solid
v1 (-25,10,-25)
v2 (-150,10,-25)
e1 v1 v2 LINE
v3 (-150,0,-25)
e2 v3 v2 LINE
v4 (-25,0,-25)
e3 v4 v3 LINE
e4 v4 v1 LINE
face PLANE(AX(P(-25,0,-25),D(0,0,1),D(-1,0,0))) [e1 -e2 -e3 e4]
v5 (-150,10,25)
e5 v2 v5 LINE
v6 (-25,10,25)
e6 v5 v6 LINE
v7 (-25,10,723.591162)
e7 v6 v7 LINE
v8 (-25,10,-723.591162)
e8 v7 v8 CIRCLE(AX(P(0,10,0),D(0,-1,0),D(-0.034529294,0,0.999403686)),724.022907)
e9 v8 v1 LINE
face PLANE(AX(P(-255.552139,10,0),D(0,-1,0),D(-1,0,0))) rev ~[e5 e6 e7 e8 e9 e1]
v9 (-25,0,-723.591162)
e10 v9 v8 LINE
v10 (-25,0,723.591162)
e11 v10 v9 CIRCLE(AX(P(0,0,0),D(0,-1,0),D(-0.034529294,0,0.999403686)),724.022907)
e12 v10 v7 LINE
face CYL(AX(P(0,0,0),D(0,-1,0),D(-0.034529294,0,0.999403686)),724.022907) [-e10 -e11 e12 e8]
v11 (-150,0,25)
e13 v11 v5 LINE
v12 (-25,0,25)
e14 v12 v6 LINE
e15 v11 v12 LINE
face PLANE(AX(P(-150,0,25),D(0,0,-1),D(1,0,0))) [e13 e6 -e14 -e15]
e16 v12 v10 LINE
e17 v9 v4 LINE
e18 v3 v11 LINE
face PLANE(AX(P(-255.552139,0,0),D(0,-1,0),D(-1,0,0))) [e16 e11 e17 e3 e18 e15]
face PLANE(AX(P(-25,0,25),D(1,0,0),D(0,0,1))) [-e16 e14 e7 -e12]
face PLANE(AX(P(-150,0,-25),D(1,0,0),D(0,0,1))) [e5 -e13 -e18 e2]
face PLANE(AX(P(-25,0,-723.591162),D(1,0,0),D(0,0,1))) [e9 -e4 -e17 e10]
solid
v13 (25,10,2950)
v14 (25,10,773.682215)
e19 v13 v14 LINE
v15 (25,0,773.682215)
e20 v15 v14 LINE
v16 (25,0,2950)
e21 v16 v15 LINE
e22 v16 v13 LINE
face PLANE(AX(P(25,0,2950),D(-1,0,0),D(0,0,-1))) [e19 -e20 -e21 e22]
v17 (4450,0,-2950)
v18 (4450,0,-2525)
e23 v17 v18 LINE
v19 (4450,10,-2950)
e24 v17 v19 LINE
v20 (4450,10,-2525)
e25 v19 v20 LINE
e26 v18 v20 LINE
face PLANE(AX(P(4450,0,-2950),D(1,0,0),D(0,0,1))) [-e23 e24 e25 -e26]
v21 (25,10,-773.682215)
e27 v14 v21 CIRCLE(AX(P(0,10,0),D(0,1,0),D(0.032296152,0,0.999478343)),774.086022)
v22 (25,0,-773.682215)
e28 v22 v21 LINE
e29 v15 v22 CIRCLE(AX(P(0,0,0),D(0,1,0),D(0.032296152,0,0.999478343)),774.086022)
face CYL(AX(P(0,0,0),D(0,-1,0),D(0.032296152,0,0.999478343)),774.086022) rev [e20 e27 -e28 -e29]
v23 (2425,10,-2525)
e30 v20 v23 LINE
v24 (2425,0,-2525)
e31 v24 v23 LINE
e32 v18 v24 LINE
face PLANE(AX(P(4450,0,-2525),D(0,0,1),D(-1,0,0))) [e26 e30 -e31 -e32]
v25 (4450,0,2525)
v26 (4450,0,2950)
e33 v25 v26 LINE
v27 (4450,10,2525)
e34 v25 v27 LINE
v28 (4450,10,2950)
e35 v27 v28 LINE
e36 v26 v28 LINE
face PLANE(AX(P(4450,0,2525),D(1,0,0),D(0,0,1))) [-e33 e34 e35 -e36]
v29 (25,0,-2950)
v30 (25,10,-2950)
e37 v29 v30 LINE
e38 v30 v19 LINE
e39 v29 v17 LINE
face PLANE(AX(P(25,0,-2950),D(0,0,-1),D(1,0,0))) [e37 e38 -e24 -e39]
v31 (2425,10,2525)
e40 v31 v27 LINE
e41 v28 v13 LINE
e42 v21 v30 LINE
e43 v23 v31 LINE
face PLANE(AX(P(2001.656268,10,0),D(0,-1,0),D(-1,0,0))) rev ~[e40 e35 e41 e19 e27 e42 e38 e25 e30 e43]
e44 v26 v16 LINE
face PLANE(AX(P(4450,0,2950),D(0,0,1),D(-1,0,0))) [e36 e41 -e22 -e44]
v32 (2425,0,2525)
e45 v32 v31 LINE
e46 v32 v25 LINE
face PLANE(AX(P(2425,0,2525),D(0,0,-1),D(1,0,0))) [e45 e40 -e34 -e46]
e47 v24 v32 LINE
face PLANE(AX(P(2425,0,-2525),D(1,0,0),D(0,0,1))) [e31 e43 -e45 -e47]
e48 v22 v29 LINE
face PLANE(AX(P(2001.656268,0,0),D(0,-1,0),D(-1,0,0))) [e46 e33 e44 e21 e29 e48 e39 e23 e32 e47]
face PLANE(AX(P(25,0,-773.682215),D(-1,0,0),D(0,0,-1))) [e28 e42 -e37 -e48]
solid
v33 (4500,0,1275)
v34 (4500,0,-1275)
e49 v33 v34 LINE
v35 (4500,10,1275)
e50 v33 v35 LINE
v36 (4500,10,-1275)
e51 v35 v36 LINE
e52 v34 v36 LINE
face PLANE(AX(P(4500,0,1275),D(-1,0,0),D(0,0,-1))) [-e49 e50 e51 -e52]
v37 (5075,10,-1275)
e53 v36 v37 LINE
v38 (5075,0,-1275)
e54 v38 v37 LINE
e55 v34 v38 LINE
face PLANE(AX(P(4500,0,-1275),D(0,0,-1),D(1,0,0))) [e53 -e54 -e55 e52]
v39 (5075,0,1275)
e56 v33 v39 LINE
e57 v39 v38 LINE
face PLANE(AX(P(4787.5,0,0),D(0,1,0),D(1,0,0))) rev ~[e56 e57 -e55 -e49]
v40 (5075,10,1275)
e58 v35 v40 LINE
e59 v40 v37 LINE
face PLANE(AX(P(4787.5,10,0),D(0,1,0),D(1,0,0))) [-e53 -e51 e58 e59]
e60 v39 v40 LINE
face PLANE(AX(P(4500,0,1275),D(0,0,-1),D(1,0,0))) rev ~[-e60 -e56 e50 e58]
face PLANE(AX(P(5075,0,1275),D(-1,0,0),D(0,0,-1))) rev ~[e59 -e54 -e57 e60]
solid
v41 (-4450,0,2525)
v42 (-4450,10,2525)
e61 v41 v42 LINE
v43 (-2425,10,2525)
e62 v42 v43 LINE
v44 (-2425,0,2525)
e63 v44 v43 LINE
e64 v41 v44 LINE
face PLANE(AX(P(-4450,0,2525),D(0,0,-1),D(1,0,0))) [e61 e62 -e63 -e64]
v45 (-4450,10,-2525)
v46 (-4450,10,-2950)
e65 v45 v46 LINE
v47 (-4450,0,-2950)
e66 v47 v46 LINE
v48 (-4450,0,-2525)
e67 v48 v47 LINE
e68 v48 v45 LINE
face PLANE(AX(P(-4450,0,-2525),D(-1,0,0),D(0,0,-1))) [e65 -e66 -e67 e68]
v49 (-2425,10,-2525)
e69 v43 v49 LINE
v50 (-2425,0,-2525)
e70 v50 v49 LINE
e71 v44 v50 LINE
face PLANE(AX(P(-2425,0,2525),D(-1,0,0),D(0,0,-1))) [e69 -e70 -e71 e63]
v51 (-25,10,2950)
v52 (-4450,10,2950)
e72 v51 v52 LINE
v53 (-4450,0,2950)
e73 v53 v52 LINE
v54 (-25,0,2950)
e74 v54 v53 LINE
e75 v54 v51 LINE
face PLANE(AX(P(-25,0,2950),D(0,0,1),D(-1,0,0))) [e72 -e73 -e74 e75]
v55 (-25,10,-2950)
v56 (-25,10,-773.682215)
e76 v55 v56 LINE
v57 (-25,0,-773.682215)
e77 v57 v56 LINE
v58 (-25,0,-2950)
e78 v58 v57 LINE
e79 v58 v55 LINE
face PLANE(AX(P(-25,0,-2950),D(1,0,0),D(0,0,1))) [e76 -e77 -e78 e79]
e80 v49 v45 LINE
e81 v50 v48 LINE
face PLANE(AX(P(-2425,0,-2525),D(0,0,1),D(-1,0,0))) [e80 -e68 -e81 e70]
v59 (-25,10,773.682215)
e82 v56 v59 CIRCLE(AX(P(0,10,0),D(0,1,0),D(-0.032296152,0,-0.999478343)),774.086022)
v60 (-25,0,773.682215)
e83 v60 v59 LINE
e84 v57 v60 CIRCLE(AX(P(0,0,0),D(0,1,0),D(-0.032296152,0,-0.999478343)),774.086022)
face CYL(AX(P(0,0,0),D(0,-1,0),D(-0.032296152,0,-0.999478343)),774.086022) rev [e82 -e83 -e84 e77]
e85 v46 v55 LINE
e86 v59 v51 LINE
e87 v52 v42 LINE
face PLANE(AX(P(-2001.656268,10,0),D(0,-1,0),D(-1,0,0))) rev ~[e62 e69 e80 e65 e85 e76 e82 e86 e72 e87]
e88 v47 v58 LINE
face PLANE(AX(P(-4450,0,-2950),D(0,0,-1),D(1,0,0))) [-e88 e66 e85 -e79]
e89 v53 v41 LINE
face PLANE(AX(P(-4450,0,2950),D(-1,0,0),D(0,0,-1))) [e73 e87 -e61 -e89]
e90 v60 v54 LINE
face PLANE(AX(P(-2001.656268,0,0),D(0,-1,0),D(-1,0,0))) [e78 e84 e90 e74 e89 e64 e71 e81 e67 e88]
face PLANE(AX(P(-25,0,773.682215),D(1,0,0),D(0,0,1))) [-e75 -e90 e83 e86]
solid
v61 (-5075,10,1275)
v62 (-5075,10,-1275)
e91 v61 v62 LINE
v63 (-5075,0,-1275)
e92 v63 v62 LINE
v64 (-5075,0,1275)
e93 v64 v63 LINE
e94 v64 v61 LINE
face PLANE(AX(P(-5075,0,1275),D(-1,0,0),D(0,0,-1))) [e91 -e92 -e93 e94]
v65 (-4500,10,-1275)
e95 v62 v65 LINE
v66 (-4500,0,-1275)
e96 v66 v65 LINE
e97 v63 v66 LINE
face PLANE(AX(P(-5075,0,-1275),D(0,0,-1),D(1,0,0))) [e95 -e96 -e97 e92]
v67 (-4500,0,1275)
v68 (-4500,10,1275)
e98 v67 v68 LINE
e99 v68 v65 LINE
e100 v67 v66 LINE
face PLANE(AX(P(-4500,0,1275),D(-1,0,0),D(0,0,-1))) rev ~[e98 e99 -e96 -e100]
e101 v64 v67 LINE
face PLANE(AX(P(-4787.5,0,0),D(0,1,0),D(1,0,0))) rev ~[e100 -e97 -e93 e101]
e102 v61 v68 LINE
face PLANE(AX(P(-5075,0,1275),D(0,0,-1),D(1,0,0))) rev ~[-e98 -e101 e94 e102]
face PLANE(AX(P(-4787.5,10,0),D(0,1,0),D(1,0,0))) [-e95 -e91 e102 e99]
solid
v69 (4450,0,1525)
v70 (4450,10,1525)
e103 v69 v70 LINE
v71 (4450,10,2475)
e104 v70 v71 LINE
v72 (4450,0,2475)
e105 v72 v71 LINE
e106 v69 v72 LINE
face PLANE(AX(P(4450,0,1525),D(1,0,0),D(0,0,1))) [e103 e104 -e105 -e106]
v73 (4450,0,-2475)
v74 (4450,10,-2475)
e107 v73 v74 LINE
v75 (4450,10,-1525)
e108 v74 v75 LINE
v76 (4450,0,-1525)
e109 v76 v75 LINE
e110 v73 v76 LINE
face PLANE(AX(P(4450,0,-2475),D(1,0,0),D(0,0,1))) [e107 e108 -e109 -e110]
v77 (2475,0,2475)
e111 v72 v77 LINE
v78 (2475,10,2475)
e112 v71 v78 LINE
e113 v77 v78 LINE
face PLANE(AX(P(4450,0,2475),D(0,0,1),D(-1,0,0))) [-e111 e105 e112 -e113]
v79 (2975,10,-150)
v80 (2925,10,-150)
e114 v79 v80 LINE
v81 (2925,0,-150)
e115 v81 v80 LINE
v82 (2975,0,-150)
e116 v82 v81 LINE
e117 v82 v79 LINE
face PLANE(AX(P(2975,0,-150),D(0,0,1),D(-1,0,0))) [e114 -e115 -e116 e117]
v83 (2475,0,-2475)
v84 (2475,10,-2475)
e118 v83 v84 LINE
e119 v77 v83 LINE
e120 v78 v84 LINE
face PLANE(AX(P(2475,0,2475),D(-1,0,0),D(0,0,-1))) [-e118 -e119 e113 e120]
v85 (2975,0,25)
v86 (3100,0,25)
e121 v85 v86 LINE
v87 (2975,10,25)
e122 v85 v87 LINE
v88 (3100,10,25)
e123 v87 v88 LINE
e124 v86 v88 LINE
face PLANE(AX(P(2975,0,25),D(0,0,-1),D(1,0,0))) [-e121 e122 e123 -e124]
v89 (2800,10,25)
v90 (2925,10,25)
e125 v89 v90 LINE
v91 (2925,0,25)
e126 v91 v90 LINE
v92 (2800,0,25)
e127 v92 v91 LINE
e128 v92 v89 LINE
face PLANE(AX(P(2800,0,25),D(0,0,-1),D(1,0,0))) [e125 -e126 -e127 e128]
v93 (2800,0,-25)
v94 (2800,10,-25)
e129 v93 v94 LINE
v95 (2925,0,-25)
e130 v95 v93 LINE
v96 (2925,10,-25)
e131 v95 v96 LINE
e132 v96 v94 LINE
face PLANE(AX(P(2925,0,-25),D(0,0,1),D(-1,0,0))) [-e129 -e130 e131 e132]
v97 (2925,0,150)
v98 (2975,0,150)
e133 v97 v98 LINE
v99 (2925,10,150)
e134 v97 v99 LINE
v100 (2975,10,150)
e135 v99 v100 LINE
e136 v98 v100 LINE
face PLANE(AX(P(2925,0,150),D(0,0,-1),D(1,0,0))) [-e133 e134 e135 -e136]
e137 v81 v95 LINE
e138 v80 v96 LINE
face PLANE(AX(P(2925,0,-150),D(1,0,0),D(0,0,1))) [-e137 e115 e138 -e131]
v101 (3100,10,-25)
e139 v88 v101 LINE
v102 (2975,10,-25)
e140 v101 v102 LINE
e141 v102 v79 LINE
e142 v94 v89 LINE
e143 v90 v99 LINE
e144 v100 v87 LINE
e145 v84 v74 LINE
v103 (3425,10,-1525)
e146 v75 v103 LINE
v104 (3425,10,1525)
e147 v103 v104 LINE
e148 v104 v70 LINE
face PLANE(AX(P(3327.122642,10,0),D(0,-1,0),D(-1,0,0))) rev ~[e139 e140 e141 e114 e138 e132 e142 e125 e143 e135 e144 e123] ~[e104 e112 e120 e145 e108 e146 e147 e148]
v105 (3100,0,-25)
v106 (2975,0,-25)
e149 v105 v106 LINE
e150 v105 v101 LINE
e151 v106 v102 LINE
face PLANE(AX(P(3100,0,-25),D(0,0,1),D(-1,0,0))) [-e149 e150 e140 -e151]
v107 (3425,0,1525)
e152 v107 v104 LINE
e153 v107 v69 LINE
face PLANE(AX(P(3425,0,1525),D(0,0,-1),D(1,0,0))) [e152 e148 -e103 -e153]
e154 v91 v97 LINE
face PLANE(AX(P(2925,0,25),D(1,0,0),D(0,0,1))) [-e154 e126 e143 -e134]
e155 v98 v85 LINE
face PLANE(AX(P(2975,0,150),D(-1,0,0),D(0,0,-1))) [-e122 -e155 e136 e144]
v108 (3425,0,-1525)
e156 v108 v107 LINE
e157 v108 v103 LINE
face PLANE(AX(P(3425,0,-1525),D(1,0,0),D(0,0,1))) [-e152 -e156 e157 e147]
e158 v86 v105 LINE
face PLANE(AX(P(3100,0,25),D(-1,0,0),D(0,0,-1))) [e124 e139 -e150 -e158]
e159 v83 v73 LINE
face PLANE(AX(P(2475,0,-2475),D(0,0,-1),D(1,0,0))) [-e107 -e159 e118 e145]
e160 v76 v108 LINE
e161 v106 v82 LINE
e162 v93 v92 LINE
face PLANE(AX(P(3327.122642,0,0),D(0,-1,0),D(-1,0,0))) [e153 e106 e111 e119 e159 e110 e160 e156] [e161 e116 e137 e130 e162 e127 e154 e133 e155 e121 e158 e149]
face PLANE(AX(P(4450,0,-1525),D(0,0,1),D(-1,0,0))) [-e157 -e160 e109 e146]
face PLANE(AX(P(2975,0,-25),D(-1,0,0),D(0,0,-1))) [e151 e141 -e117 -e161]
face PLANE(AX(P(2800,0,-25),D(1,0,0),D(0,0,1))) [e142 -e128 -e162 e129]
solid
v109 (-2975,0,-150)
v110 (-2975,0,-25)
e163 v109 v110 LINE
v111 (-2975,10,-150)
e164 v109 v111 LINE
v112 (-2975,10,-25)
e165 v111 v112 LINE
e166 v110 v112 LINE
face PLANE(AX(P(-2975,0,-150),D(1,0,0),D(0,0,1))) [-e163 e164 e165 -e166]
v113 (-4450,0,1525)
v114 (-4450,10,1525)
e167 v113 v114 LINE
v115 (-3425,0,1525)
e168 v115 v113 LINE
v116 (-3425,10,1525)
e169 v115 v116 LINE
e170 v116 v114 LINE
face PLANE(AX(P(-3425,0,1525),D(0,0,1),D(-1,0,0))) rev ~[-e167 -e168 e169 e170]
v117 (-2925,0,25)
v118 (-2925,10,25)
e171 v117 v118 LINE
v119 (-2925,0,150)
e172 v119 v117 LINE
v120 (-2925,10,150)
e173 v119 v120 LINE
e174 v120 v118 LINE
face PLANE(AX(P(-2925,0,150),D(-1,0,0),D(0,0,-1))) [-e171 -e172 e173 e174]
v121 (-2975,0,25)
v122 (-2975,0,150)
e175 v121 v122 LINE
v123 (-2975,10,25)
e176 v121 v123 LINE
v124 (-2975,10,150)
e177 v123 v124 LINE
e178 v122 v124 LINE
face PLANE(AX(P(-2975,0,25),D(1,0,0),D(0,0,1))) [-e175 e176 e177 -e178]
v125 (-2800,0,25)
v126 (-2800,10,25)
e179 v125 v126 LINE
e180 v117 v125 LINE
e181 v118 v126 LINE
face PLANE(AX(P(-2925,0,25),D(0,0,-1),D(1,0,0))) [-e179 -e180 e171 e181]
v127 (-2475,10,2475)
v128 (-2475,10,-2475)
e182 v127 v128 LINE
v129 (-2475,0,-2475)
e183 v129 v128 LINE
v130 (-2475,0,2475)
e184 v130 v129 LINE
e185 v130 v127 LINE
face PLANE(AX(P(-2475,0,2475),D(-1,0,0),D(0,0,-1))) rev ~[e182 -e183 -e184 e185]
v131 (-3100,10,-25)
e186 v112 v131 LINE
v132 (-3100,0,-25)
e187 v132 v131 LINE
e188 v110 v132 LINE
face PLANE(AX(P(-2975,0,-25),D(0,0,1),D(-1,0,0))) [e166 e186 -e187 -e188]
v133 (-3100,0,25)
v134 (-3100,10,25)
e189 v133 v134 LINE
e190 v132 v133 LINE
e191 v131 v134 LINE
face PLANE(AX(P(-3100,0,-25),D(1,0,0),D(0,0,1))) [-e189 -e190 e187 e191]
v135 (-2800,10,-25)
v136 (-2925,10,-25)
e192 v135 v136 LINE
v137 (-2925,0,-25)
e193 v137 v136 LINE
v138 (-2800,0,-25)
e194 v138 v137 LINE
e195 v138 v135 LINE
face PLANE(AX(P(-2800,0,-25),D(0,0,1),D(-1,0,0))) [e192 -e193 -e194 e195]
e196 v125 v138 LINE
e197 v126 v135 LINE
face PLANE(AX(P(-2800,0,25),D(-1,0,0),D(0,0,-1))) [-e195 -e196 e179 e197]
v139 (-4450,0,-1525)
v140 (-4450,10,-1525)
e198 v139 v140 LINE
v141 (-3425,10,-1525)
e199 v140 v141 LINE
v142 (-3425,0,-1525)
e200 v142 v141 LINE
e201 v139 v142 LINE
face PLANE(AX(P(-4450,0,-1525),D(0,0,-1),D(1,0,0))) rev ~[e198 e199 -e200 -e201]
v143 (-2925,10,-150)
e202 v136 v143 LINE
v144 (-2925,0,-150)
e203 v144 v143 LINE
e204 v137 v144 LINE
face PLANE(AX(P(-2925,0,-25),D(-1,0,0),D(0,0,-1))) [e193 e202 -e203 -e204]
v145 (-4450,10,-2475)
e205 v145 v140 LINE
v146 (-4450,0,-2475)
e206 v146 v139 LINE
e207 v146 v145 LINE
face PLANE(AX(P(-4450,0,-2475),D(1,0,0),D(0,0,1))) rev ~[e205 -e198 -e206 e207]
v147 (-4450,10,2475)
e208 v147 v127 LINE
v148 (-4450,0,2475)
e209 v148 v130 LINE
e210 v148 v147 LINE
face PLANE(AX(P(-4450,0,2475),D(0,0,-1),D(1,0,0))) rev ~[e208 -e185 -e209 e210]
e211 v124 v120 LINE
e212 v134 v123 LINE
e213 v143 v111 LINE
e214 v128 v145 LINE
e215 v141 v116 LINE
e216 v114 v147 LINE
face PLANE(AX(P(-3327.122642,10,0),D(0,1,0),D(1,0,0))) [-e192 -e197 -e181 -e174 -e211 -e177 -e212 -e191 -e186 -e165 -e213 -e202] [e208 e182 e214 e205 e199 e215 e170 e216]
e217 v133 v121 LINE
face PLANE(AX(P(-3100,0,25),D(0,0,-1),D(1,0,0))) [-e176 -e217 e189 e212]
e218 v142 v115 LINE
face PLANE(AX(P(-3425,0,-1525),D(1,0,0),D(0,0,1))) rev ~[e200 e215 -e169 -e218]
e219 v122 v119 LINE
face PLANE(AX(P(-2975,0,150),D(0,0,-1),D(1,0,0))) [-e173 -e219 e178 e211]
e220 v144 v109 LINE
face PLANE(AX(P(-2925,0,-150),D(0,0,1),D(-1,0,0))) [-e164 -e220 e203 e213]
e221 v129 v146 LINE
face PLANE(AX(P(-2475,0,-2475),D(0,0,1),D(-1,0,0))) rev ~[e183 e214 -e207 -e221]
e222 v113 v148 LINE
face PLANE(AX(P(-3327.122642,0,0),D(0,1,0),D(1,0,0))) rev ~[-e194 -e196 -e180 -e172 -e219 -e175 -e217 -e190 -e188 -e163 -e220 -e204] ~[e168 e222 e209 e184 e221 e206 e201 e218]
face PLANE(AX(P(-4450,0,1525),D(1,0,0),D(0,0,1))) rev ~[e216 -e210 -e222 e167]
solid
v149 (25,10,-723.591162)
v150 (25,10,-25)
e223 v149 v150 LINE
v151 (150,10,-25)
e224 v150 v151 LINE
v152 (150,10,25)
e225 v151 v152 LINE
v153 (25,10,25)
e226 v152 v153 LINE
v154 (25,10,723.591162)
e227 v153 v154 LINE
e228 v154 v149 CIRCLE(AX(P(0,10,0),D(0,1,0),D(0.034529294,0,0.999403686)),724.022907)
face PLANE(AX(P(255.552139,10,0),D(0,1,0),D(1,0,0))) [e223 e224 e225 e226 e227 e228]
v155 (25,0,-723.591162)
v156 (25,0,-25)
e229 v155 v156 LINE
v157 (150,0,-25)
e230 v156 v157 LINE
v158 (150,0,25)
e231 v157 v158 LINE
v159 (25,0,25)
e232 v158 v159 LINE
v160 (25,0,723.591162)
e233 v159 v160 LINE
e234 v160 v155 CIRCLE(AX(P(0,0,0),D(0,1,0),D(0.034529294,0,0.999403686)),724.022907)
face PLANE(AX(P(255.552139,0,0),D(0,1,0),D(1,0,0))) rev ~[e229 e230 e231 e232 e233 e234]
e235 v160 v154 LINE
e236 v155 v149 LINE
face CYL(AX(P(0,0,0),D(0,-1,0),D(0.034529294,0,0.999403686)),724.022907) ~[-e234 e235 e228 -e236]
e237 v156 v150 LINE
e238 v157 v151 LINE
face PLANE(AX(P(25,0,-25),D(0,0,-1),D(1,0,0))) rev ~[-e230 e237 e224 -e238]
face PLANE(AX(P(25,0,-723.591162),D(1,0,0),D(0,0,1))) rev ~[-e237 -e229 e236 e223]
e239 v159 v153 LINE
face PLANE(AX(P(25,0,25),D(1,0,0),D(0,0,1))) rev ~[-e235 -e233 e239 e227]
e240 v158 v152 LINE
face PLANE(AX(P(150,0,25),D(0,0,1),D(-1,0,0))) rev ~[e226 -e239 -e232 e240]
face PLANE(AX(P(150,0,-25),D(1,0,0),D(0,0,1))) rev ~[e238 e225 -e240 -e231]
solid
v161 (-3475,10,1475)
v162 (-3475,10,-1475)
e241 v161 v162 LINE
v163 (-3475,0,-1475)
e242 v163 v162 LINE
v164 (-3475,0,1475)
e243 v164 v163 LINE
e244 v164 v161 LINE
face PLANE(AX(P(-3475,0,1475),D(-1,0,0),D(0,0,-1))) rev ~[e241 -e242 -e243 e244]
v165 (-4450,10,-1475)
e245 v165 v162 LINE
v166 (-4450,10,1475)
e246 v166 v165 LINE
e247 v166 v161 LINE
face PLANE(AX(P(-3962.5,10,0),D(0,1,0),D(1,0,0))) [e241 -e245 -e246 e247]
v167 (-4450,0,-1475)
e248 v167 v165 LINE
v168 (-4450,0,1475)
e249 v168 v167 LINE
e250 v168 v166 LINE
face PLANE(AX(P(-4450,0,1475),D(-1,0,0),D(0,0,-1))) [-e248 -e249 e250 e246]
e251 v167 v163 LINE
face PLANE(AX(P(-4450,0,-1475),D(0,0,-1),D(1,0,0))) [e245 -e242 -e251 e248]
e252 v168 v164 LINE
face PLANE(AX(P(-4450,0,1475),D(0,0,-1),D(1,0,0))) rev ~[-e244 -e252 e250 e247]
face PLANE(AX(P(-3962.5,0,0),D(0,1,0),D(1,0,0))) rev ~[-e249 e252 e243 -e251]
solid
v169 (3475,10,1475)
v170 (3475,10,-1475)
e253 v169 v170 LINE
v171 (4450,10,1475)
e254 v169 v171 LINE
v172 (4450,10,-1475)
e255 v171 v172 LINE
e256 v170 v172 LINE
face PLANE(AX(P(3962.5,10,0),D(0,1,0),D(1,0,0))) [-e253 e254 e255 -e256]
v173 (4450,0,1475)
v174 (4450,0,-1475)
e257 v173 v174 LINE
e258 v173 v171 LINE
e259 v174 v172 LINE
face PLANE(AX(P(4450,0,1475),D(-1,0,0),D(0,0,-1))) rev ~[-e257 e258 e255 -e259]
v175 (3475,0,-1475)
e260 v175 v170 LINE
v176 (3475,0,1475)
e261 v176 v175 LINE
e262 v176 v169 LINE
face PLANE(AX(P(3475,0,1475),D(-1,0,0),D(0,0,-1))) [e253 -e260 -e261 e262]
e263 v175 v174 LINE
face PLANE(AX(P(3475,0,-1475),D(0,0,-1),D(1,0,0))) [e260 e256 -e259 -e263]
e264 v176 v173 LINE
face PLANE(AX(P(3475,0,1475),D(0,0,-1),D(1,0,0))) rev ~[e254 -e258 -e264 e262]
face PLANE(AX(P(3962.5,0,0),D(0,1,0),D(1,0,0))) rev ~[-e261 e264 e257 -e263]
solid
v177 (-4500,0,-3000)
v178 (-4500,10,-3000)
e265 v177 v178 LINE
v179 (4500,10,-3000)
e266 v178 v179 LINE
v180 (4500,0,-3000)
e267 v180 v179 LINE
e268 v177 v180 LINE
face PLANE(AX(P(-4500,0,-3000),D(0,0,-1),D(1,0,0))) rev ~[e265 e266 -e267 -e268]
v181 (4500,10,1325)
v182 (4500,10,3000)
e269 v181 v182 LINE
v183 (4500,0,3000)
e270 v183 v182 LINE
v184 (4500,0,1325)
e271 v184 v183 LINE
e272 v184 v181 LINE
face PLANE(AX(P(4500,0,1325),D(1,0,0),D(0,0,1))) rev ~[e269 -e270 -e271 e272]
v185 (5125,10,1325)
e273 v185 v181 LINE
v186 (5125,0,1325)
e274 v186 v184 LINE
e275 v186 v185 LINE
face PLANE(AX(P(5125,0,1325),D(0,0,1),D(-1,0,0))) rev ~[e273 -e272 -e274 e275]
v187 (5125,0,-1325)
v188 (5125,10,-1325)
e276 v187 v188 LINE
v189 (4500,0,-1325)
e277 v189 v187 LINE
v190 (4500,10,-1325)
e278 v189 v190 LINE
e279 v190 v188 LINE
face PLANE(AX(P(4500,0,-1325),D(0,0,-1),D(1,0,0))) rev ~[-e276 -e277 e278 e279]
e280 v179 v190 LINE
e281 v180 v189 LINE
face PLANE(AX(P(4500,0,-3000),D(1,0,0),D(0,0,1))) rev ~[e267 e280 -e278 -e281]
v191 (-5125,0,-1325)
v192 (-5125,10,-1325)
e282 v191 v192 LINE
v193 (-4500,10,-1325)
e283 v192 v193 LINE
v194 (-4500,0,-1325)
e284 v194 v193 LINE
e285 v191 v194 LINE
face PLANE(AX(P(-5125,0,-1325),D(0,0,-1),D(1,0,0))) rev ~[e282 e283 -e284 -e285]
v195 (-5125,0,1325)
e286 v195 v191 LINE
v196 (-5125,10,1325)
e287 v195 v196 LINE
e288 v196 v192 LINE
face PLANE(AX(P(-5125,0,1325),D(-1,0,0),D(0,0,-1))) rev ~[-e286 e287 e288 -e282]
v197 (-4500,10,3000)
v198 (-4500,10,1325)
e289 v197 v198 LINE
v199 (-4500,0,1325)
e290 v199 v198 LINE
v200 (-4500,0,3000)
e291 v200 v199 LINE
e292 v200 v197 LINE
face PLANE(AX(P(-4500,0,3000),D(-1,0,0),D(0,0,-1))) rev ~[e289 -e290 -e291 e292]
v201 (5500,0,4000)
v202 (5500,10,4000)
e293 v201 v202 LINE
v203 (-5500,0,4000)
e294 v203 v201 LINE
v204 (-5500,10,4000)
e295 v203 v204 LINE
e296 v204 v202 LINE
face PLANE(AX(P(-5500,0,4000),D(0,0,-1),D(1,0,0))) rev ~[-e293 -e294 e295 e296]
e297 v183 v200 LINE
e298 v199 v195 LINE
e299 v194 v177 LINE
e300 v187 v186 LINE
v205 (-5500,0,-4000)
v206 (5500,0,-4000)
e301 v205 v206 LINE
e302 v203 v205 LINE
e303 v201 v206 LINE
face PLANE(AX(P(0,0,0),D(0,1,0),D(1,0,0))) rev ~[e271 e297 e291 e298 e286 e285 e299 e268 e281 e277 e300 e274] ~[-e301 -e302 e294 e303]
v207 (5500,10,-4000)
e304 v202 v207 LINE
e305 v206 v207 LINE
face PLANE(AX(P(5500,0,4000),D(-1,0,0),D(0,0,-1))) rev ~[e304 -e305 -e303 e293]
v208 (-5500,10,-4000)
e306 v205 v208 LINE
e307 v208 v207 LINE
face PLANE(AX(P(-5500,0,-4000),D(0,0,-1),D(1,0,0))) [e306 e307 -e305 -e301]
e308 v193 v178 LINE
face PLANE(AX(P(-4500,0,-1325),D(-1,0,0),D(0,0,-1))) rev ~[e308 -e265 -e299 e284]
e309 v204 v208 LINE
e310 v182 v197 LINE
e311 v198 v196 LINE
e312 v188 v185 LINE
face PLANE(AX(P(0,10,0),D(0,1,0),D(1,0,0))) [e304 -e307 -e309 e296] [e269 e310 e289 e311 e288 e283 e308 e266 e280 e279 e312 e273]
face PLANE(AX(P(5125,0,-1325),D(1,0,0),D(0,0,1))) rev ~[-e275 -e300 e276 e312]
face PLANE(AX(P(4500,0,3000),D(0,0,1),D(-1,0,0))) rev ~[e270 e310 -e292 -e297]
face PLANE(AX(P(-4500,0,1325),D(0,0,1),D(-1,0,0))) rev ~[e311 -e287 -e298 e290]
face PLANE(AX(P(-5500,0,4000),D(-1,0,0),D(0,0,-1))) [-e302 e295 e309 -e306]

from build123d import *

# Parameters (mm, degrees)
BOSS_EXTRUDE1_DEPTH    = 10
BOSS_EXTRUDE1_2_DEPTH  = 10
BOSS_EXTRUDE1_3_DEPTH  = 10
BOSS_EXTRUDE1_4_DEPTH  = 10
BOSS_EXTRUDE1_5_DEPTH  = 10
SKETCH1_W              = 975
SKETCH1_H              = 2950
BOSS_EXTRUDE1_6_DEPTH  = 10
SKETCH1_W_2            = 575
SKETCH1_H_2            = 2550
BOSS_EXTRUDE1_7_DEPTH  = 10
BOSS_EXTRUDE1_8_DEPTH  = 10
BOSS_EXTRUDE1_9_DEPTH  = 10
BOSS_EXTRUDE1_10_DEPTH = 10
SKETCH1_W_3            = 11000
SKETCH1_H_3            = 8000
BOSS_EXTRUDE1_11_DEPTH = 10


with BuildPart() as part:
    # Sketch1 → Boss-Extrude1 (new body)
    with BuildSketch(Plane(origin=(0, 0, 0), x_dir=(1, 0, 0), z_dir=(0, 1, 0))):
        with BuildLine():
            Line((25, -25), (25, -723.591162127))
            ThreePointArc((25, -723.591162127), (724.022907033, 0), (25, 723.591162127))
            Line((25, 723.591162127), (25, 25))
            Line((25, 25), (150, 25))
            Line((150, 25), (150, -25))
            Line((150, -25), (25, -25))
        make_face()
    extrude(amount=BOSS_EXTRUDE1_DEPTH)


with BuildPart() as body_2:
    # Sketch1 → Boss-Extrude1 2 (new body)
    with BuildSketch(Plane(origin=(0, 0, 0), x_dir=(1, 0, 0), z_dir=(0, 1, 0))):
        with BuildLine():
            Line((-25, 723.591162127), (-25, 25))
            Line((-25, 25), (-150, 25))
            Line((-150, 25), (-150, -25))
            Line((-150, -25), (-25, -25))
            Line((-25, -25), (-25, -723.591162127))
            ThreePointArc((-25, -723.591162127), (-724.022907033, 0), (-25, 723.591162127))
        make_face()
    extrude(amount=BOSS_EXTRUDE1_2_DEPTH)


with BuildPart() as body_3:
    # Sketch1 → Boss-Extrude1 3 (new body)
    with BuildSketch(Plane(origin=(0, 0, 0), x_dir=(1, 0, 0), z_dir=(0, 1, 0))):
        with BuildLine():
            ThreePointArc((-25, 773.682215065), (-774.086022292, 0), (-25, -773.682215065))
            Line((-25, -773.682215065), (-25, -2950))
            Line((-25, -2950), (-4450, -2950))
            Line((-4450, -2950), (-4450, -2525))
            Line((-4450, -2525), (-2425, -2525))
            Line((-2425, -2525), (-2425, 2525))
            Line((-2425, 2525), (-4450, 2525))
            Line((-4450, 2525), (-4450, 2950))
            Line((-4450, 2950), (-25, 2950))
            Line((-25, 2950), (-25, 773.682215065))
        make_face()
    extrude(amount=BOSS_EXTRUDE1_3_DEPTH)


with BuildPart() as body_4:
    # Sketch1 → Boss-Extrude1 4 (new body)
    with BuildSketch(Plane(origin=(0, 0, 0), x_dir=(1, 0, 0), z_dir=(0, 1, 0))):
        with BuildLine():
            ThreePointArc((25, -773.682215065), (774.086022292, 0), (25, 773.682215065))
            Line((25, 773.682215065), (25, 2950))
            Line((25, 2950), (4450, 2950))
            Line((4450, 2950), (4450, 2525))
            Line((4450, 2525), (2425, 2525))
            Line((2425, 2525), (2425, -2525))
            Line((2425, -2525), (4450, -2525))
            Line((4450, -2525), (4450, -2950))
            Line((4450, -2950), (25, -2950))
            Line((25, -2950), (25, -773.682215065))
        make_face()
    extrude(amount=BOSS_EXTRUDE1_4_DEPTH)


with BuildPart() as body_5:
    # Sketch1 → Boss-Extrude1 5 (new body)
    with BuildSketch(Plane(origin=(0, 0, 0), x_dir=(1, 0, 0), z_dir=(0, 1, 0))):
        Polygon((4450, -1525), (4450, -2475), (2475, -2475), (2475, 2475), (4450, 2475), (4450, 1525), (3425, 1525), (3425, -1525), align=None)
        Polygon((2975, 150), (2925, 150), (2925, 25), (2800, 25), (2800, -25), (2925, -25), (2925, -150), (2975, -150), (2975, -25), (3100, -25), (3100, 25), (2975, 25), align=None, mode=Mode.SUBTRACT)
    extrude(amount=BOSS_EXTRUDE1_5_DEPTH)


with BuildPart() as body_6:
    # Sketch1 → Boss-Extrude1 6 (new body)
    with BuildSketch(Plane(origin=(0, 0, 0), x_dir=(1, 0, 0), z_dir=(0, 1, 0))):
        with Locations((3962.5, 0)):
            Rectangle(SKETCH1_W, SKETCH1_H)
    extrude(amount=BOSS_EXTRUDE1_6_DEPTH)


with BuildPart() as body_7:
    # Sketch1 → Boss-Extrude1 7 (new body)
    with BuildSketch(Plane(origin=(0, 0, 0), x_dir=(1, 0, 0), z_dir=(0, 1, 0))):
        with Locations((4787.5, 0)):
            Rectangle(SKETCH1_W_2, SKETCH1_H_2)
    extrude(amount=BOSS_EXTRUDE1_7_DEPTH)


with BuildPart() as body_8:
    # Sketch1 → Boss-Extrude1 8 (new body)
    with BuildSketch(Plane(origin=(0, 0, 0), x_dir=(1, 0, 0), z_dir=(0, 1, 0))):
        Polygon((-3425, -1525), (-4450, -1525), (-4450, -2475), (-2475, -2475), (-2475, 2475), (-4450, 2475), (-4450, 1525), (-3425, 1525), align=None)
        Polygon((-2925, -25), (-2800, -25), (-2800, 25), (-2925, 25), (-2925, 150), (-2975, 150), (-2975, 25), (-3100, 25), (-3100, -25), (-2975, -25), (-2975, -150), (-2925, -150), align=None, mode=Mode.SUBTRACT)
    extrude(amount=BOSS_EXTRUDE1_8_DEPTH)


with BuildPart() as body_9:
    # Sketch1 → Boss-Extrude1 9 (new body)
    with BuildSketch(Plane(origin=(0, 0, 0), x_dir=(1, 0, 0), z_dir=(0, 1, 0))):
        with Locations((-3962.5, 0)):
            Rectangle(SKETCH1_W, SKETCH1_H)
    extrude(amount=BOSS_EXTRUDE1_9_DEPTH)


with BuildPart() as body_10:
    # Sketch1 → Boss-Extrude1 10 (new body)
    with BuildSketch(Plane(origin=(0, 0, 0), x_dir=(1, 0, 0), z_dir=(0, 1, 0))):
        with Locations((-4787.5, 0)):
            Rectangle(SKETCH1_W_2, SKETCH1_H_2)
    extrude(amount=BOSS_EXTRUDE1_10_DEPTH)


with BuildPart() as body_11:
    # Sketch1 → Boss-Extrude1 11 (new body)
    with BuildSketch(Plane(origin=(0, 0, 0), x_dir=(1, 0, 0), z_dir=(0, 1, 0))):
        Rectangle(SKETCH1_W_3, SKETCH1_H_3)
        Polygon((5125, -1325), (4500, -1325), (4500, -3000), (-4500, -3000), (-4500, -1325), (-5125, -1325), (-5125, 1325), (-4500, 1325), (-4500, 3000), (4500, 3000), (4500, 1325), (5125, 1325), align=None, mode=Mode.SUBTRACT)
    extrude(amount=BOSS_EXTRUDE1_11_DEPTH)


solid = Compound([part.part, body_2.part, body_3.part, body_4.part, body_5.part, body_6.part, body_7.part, body_8.part, body_9.part, body_10.part, body_11.part])
